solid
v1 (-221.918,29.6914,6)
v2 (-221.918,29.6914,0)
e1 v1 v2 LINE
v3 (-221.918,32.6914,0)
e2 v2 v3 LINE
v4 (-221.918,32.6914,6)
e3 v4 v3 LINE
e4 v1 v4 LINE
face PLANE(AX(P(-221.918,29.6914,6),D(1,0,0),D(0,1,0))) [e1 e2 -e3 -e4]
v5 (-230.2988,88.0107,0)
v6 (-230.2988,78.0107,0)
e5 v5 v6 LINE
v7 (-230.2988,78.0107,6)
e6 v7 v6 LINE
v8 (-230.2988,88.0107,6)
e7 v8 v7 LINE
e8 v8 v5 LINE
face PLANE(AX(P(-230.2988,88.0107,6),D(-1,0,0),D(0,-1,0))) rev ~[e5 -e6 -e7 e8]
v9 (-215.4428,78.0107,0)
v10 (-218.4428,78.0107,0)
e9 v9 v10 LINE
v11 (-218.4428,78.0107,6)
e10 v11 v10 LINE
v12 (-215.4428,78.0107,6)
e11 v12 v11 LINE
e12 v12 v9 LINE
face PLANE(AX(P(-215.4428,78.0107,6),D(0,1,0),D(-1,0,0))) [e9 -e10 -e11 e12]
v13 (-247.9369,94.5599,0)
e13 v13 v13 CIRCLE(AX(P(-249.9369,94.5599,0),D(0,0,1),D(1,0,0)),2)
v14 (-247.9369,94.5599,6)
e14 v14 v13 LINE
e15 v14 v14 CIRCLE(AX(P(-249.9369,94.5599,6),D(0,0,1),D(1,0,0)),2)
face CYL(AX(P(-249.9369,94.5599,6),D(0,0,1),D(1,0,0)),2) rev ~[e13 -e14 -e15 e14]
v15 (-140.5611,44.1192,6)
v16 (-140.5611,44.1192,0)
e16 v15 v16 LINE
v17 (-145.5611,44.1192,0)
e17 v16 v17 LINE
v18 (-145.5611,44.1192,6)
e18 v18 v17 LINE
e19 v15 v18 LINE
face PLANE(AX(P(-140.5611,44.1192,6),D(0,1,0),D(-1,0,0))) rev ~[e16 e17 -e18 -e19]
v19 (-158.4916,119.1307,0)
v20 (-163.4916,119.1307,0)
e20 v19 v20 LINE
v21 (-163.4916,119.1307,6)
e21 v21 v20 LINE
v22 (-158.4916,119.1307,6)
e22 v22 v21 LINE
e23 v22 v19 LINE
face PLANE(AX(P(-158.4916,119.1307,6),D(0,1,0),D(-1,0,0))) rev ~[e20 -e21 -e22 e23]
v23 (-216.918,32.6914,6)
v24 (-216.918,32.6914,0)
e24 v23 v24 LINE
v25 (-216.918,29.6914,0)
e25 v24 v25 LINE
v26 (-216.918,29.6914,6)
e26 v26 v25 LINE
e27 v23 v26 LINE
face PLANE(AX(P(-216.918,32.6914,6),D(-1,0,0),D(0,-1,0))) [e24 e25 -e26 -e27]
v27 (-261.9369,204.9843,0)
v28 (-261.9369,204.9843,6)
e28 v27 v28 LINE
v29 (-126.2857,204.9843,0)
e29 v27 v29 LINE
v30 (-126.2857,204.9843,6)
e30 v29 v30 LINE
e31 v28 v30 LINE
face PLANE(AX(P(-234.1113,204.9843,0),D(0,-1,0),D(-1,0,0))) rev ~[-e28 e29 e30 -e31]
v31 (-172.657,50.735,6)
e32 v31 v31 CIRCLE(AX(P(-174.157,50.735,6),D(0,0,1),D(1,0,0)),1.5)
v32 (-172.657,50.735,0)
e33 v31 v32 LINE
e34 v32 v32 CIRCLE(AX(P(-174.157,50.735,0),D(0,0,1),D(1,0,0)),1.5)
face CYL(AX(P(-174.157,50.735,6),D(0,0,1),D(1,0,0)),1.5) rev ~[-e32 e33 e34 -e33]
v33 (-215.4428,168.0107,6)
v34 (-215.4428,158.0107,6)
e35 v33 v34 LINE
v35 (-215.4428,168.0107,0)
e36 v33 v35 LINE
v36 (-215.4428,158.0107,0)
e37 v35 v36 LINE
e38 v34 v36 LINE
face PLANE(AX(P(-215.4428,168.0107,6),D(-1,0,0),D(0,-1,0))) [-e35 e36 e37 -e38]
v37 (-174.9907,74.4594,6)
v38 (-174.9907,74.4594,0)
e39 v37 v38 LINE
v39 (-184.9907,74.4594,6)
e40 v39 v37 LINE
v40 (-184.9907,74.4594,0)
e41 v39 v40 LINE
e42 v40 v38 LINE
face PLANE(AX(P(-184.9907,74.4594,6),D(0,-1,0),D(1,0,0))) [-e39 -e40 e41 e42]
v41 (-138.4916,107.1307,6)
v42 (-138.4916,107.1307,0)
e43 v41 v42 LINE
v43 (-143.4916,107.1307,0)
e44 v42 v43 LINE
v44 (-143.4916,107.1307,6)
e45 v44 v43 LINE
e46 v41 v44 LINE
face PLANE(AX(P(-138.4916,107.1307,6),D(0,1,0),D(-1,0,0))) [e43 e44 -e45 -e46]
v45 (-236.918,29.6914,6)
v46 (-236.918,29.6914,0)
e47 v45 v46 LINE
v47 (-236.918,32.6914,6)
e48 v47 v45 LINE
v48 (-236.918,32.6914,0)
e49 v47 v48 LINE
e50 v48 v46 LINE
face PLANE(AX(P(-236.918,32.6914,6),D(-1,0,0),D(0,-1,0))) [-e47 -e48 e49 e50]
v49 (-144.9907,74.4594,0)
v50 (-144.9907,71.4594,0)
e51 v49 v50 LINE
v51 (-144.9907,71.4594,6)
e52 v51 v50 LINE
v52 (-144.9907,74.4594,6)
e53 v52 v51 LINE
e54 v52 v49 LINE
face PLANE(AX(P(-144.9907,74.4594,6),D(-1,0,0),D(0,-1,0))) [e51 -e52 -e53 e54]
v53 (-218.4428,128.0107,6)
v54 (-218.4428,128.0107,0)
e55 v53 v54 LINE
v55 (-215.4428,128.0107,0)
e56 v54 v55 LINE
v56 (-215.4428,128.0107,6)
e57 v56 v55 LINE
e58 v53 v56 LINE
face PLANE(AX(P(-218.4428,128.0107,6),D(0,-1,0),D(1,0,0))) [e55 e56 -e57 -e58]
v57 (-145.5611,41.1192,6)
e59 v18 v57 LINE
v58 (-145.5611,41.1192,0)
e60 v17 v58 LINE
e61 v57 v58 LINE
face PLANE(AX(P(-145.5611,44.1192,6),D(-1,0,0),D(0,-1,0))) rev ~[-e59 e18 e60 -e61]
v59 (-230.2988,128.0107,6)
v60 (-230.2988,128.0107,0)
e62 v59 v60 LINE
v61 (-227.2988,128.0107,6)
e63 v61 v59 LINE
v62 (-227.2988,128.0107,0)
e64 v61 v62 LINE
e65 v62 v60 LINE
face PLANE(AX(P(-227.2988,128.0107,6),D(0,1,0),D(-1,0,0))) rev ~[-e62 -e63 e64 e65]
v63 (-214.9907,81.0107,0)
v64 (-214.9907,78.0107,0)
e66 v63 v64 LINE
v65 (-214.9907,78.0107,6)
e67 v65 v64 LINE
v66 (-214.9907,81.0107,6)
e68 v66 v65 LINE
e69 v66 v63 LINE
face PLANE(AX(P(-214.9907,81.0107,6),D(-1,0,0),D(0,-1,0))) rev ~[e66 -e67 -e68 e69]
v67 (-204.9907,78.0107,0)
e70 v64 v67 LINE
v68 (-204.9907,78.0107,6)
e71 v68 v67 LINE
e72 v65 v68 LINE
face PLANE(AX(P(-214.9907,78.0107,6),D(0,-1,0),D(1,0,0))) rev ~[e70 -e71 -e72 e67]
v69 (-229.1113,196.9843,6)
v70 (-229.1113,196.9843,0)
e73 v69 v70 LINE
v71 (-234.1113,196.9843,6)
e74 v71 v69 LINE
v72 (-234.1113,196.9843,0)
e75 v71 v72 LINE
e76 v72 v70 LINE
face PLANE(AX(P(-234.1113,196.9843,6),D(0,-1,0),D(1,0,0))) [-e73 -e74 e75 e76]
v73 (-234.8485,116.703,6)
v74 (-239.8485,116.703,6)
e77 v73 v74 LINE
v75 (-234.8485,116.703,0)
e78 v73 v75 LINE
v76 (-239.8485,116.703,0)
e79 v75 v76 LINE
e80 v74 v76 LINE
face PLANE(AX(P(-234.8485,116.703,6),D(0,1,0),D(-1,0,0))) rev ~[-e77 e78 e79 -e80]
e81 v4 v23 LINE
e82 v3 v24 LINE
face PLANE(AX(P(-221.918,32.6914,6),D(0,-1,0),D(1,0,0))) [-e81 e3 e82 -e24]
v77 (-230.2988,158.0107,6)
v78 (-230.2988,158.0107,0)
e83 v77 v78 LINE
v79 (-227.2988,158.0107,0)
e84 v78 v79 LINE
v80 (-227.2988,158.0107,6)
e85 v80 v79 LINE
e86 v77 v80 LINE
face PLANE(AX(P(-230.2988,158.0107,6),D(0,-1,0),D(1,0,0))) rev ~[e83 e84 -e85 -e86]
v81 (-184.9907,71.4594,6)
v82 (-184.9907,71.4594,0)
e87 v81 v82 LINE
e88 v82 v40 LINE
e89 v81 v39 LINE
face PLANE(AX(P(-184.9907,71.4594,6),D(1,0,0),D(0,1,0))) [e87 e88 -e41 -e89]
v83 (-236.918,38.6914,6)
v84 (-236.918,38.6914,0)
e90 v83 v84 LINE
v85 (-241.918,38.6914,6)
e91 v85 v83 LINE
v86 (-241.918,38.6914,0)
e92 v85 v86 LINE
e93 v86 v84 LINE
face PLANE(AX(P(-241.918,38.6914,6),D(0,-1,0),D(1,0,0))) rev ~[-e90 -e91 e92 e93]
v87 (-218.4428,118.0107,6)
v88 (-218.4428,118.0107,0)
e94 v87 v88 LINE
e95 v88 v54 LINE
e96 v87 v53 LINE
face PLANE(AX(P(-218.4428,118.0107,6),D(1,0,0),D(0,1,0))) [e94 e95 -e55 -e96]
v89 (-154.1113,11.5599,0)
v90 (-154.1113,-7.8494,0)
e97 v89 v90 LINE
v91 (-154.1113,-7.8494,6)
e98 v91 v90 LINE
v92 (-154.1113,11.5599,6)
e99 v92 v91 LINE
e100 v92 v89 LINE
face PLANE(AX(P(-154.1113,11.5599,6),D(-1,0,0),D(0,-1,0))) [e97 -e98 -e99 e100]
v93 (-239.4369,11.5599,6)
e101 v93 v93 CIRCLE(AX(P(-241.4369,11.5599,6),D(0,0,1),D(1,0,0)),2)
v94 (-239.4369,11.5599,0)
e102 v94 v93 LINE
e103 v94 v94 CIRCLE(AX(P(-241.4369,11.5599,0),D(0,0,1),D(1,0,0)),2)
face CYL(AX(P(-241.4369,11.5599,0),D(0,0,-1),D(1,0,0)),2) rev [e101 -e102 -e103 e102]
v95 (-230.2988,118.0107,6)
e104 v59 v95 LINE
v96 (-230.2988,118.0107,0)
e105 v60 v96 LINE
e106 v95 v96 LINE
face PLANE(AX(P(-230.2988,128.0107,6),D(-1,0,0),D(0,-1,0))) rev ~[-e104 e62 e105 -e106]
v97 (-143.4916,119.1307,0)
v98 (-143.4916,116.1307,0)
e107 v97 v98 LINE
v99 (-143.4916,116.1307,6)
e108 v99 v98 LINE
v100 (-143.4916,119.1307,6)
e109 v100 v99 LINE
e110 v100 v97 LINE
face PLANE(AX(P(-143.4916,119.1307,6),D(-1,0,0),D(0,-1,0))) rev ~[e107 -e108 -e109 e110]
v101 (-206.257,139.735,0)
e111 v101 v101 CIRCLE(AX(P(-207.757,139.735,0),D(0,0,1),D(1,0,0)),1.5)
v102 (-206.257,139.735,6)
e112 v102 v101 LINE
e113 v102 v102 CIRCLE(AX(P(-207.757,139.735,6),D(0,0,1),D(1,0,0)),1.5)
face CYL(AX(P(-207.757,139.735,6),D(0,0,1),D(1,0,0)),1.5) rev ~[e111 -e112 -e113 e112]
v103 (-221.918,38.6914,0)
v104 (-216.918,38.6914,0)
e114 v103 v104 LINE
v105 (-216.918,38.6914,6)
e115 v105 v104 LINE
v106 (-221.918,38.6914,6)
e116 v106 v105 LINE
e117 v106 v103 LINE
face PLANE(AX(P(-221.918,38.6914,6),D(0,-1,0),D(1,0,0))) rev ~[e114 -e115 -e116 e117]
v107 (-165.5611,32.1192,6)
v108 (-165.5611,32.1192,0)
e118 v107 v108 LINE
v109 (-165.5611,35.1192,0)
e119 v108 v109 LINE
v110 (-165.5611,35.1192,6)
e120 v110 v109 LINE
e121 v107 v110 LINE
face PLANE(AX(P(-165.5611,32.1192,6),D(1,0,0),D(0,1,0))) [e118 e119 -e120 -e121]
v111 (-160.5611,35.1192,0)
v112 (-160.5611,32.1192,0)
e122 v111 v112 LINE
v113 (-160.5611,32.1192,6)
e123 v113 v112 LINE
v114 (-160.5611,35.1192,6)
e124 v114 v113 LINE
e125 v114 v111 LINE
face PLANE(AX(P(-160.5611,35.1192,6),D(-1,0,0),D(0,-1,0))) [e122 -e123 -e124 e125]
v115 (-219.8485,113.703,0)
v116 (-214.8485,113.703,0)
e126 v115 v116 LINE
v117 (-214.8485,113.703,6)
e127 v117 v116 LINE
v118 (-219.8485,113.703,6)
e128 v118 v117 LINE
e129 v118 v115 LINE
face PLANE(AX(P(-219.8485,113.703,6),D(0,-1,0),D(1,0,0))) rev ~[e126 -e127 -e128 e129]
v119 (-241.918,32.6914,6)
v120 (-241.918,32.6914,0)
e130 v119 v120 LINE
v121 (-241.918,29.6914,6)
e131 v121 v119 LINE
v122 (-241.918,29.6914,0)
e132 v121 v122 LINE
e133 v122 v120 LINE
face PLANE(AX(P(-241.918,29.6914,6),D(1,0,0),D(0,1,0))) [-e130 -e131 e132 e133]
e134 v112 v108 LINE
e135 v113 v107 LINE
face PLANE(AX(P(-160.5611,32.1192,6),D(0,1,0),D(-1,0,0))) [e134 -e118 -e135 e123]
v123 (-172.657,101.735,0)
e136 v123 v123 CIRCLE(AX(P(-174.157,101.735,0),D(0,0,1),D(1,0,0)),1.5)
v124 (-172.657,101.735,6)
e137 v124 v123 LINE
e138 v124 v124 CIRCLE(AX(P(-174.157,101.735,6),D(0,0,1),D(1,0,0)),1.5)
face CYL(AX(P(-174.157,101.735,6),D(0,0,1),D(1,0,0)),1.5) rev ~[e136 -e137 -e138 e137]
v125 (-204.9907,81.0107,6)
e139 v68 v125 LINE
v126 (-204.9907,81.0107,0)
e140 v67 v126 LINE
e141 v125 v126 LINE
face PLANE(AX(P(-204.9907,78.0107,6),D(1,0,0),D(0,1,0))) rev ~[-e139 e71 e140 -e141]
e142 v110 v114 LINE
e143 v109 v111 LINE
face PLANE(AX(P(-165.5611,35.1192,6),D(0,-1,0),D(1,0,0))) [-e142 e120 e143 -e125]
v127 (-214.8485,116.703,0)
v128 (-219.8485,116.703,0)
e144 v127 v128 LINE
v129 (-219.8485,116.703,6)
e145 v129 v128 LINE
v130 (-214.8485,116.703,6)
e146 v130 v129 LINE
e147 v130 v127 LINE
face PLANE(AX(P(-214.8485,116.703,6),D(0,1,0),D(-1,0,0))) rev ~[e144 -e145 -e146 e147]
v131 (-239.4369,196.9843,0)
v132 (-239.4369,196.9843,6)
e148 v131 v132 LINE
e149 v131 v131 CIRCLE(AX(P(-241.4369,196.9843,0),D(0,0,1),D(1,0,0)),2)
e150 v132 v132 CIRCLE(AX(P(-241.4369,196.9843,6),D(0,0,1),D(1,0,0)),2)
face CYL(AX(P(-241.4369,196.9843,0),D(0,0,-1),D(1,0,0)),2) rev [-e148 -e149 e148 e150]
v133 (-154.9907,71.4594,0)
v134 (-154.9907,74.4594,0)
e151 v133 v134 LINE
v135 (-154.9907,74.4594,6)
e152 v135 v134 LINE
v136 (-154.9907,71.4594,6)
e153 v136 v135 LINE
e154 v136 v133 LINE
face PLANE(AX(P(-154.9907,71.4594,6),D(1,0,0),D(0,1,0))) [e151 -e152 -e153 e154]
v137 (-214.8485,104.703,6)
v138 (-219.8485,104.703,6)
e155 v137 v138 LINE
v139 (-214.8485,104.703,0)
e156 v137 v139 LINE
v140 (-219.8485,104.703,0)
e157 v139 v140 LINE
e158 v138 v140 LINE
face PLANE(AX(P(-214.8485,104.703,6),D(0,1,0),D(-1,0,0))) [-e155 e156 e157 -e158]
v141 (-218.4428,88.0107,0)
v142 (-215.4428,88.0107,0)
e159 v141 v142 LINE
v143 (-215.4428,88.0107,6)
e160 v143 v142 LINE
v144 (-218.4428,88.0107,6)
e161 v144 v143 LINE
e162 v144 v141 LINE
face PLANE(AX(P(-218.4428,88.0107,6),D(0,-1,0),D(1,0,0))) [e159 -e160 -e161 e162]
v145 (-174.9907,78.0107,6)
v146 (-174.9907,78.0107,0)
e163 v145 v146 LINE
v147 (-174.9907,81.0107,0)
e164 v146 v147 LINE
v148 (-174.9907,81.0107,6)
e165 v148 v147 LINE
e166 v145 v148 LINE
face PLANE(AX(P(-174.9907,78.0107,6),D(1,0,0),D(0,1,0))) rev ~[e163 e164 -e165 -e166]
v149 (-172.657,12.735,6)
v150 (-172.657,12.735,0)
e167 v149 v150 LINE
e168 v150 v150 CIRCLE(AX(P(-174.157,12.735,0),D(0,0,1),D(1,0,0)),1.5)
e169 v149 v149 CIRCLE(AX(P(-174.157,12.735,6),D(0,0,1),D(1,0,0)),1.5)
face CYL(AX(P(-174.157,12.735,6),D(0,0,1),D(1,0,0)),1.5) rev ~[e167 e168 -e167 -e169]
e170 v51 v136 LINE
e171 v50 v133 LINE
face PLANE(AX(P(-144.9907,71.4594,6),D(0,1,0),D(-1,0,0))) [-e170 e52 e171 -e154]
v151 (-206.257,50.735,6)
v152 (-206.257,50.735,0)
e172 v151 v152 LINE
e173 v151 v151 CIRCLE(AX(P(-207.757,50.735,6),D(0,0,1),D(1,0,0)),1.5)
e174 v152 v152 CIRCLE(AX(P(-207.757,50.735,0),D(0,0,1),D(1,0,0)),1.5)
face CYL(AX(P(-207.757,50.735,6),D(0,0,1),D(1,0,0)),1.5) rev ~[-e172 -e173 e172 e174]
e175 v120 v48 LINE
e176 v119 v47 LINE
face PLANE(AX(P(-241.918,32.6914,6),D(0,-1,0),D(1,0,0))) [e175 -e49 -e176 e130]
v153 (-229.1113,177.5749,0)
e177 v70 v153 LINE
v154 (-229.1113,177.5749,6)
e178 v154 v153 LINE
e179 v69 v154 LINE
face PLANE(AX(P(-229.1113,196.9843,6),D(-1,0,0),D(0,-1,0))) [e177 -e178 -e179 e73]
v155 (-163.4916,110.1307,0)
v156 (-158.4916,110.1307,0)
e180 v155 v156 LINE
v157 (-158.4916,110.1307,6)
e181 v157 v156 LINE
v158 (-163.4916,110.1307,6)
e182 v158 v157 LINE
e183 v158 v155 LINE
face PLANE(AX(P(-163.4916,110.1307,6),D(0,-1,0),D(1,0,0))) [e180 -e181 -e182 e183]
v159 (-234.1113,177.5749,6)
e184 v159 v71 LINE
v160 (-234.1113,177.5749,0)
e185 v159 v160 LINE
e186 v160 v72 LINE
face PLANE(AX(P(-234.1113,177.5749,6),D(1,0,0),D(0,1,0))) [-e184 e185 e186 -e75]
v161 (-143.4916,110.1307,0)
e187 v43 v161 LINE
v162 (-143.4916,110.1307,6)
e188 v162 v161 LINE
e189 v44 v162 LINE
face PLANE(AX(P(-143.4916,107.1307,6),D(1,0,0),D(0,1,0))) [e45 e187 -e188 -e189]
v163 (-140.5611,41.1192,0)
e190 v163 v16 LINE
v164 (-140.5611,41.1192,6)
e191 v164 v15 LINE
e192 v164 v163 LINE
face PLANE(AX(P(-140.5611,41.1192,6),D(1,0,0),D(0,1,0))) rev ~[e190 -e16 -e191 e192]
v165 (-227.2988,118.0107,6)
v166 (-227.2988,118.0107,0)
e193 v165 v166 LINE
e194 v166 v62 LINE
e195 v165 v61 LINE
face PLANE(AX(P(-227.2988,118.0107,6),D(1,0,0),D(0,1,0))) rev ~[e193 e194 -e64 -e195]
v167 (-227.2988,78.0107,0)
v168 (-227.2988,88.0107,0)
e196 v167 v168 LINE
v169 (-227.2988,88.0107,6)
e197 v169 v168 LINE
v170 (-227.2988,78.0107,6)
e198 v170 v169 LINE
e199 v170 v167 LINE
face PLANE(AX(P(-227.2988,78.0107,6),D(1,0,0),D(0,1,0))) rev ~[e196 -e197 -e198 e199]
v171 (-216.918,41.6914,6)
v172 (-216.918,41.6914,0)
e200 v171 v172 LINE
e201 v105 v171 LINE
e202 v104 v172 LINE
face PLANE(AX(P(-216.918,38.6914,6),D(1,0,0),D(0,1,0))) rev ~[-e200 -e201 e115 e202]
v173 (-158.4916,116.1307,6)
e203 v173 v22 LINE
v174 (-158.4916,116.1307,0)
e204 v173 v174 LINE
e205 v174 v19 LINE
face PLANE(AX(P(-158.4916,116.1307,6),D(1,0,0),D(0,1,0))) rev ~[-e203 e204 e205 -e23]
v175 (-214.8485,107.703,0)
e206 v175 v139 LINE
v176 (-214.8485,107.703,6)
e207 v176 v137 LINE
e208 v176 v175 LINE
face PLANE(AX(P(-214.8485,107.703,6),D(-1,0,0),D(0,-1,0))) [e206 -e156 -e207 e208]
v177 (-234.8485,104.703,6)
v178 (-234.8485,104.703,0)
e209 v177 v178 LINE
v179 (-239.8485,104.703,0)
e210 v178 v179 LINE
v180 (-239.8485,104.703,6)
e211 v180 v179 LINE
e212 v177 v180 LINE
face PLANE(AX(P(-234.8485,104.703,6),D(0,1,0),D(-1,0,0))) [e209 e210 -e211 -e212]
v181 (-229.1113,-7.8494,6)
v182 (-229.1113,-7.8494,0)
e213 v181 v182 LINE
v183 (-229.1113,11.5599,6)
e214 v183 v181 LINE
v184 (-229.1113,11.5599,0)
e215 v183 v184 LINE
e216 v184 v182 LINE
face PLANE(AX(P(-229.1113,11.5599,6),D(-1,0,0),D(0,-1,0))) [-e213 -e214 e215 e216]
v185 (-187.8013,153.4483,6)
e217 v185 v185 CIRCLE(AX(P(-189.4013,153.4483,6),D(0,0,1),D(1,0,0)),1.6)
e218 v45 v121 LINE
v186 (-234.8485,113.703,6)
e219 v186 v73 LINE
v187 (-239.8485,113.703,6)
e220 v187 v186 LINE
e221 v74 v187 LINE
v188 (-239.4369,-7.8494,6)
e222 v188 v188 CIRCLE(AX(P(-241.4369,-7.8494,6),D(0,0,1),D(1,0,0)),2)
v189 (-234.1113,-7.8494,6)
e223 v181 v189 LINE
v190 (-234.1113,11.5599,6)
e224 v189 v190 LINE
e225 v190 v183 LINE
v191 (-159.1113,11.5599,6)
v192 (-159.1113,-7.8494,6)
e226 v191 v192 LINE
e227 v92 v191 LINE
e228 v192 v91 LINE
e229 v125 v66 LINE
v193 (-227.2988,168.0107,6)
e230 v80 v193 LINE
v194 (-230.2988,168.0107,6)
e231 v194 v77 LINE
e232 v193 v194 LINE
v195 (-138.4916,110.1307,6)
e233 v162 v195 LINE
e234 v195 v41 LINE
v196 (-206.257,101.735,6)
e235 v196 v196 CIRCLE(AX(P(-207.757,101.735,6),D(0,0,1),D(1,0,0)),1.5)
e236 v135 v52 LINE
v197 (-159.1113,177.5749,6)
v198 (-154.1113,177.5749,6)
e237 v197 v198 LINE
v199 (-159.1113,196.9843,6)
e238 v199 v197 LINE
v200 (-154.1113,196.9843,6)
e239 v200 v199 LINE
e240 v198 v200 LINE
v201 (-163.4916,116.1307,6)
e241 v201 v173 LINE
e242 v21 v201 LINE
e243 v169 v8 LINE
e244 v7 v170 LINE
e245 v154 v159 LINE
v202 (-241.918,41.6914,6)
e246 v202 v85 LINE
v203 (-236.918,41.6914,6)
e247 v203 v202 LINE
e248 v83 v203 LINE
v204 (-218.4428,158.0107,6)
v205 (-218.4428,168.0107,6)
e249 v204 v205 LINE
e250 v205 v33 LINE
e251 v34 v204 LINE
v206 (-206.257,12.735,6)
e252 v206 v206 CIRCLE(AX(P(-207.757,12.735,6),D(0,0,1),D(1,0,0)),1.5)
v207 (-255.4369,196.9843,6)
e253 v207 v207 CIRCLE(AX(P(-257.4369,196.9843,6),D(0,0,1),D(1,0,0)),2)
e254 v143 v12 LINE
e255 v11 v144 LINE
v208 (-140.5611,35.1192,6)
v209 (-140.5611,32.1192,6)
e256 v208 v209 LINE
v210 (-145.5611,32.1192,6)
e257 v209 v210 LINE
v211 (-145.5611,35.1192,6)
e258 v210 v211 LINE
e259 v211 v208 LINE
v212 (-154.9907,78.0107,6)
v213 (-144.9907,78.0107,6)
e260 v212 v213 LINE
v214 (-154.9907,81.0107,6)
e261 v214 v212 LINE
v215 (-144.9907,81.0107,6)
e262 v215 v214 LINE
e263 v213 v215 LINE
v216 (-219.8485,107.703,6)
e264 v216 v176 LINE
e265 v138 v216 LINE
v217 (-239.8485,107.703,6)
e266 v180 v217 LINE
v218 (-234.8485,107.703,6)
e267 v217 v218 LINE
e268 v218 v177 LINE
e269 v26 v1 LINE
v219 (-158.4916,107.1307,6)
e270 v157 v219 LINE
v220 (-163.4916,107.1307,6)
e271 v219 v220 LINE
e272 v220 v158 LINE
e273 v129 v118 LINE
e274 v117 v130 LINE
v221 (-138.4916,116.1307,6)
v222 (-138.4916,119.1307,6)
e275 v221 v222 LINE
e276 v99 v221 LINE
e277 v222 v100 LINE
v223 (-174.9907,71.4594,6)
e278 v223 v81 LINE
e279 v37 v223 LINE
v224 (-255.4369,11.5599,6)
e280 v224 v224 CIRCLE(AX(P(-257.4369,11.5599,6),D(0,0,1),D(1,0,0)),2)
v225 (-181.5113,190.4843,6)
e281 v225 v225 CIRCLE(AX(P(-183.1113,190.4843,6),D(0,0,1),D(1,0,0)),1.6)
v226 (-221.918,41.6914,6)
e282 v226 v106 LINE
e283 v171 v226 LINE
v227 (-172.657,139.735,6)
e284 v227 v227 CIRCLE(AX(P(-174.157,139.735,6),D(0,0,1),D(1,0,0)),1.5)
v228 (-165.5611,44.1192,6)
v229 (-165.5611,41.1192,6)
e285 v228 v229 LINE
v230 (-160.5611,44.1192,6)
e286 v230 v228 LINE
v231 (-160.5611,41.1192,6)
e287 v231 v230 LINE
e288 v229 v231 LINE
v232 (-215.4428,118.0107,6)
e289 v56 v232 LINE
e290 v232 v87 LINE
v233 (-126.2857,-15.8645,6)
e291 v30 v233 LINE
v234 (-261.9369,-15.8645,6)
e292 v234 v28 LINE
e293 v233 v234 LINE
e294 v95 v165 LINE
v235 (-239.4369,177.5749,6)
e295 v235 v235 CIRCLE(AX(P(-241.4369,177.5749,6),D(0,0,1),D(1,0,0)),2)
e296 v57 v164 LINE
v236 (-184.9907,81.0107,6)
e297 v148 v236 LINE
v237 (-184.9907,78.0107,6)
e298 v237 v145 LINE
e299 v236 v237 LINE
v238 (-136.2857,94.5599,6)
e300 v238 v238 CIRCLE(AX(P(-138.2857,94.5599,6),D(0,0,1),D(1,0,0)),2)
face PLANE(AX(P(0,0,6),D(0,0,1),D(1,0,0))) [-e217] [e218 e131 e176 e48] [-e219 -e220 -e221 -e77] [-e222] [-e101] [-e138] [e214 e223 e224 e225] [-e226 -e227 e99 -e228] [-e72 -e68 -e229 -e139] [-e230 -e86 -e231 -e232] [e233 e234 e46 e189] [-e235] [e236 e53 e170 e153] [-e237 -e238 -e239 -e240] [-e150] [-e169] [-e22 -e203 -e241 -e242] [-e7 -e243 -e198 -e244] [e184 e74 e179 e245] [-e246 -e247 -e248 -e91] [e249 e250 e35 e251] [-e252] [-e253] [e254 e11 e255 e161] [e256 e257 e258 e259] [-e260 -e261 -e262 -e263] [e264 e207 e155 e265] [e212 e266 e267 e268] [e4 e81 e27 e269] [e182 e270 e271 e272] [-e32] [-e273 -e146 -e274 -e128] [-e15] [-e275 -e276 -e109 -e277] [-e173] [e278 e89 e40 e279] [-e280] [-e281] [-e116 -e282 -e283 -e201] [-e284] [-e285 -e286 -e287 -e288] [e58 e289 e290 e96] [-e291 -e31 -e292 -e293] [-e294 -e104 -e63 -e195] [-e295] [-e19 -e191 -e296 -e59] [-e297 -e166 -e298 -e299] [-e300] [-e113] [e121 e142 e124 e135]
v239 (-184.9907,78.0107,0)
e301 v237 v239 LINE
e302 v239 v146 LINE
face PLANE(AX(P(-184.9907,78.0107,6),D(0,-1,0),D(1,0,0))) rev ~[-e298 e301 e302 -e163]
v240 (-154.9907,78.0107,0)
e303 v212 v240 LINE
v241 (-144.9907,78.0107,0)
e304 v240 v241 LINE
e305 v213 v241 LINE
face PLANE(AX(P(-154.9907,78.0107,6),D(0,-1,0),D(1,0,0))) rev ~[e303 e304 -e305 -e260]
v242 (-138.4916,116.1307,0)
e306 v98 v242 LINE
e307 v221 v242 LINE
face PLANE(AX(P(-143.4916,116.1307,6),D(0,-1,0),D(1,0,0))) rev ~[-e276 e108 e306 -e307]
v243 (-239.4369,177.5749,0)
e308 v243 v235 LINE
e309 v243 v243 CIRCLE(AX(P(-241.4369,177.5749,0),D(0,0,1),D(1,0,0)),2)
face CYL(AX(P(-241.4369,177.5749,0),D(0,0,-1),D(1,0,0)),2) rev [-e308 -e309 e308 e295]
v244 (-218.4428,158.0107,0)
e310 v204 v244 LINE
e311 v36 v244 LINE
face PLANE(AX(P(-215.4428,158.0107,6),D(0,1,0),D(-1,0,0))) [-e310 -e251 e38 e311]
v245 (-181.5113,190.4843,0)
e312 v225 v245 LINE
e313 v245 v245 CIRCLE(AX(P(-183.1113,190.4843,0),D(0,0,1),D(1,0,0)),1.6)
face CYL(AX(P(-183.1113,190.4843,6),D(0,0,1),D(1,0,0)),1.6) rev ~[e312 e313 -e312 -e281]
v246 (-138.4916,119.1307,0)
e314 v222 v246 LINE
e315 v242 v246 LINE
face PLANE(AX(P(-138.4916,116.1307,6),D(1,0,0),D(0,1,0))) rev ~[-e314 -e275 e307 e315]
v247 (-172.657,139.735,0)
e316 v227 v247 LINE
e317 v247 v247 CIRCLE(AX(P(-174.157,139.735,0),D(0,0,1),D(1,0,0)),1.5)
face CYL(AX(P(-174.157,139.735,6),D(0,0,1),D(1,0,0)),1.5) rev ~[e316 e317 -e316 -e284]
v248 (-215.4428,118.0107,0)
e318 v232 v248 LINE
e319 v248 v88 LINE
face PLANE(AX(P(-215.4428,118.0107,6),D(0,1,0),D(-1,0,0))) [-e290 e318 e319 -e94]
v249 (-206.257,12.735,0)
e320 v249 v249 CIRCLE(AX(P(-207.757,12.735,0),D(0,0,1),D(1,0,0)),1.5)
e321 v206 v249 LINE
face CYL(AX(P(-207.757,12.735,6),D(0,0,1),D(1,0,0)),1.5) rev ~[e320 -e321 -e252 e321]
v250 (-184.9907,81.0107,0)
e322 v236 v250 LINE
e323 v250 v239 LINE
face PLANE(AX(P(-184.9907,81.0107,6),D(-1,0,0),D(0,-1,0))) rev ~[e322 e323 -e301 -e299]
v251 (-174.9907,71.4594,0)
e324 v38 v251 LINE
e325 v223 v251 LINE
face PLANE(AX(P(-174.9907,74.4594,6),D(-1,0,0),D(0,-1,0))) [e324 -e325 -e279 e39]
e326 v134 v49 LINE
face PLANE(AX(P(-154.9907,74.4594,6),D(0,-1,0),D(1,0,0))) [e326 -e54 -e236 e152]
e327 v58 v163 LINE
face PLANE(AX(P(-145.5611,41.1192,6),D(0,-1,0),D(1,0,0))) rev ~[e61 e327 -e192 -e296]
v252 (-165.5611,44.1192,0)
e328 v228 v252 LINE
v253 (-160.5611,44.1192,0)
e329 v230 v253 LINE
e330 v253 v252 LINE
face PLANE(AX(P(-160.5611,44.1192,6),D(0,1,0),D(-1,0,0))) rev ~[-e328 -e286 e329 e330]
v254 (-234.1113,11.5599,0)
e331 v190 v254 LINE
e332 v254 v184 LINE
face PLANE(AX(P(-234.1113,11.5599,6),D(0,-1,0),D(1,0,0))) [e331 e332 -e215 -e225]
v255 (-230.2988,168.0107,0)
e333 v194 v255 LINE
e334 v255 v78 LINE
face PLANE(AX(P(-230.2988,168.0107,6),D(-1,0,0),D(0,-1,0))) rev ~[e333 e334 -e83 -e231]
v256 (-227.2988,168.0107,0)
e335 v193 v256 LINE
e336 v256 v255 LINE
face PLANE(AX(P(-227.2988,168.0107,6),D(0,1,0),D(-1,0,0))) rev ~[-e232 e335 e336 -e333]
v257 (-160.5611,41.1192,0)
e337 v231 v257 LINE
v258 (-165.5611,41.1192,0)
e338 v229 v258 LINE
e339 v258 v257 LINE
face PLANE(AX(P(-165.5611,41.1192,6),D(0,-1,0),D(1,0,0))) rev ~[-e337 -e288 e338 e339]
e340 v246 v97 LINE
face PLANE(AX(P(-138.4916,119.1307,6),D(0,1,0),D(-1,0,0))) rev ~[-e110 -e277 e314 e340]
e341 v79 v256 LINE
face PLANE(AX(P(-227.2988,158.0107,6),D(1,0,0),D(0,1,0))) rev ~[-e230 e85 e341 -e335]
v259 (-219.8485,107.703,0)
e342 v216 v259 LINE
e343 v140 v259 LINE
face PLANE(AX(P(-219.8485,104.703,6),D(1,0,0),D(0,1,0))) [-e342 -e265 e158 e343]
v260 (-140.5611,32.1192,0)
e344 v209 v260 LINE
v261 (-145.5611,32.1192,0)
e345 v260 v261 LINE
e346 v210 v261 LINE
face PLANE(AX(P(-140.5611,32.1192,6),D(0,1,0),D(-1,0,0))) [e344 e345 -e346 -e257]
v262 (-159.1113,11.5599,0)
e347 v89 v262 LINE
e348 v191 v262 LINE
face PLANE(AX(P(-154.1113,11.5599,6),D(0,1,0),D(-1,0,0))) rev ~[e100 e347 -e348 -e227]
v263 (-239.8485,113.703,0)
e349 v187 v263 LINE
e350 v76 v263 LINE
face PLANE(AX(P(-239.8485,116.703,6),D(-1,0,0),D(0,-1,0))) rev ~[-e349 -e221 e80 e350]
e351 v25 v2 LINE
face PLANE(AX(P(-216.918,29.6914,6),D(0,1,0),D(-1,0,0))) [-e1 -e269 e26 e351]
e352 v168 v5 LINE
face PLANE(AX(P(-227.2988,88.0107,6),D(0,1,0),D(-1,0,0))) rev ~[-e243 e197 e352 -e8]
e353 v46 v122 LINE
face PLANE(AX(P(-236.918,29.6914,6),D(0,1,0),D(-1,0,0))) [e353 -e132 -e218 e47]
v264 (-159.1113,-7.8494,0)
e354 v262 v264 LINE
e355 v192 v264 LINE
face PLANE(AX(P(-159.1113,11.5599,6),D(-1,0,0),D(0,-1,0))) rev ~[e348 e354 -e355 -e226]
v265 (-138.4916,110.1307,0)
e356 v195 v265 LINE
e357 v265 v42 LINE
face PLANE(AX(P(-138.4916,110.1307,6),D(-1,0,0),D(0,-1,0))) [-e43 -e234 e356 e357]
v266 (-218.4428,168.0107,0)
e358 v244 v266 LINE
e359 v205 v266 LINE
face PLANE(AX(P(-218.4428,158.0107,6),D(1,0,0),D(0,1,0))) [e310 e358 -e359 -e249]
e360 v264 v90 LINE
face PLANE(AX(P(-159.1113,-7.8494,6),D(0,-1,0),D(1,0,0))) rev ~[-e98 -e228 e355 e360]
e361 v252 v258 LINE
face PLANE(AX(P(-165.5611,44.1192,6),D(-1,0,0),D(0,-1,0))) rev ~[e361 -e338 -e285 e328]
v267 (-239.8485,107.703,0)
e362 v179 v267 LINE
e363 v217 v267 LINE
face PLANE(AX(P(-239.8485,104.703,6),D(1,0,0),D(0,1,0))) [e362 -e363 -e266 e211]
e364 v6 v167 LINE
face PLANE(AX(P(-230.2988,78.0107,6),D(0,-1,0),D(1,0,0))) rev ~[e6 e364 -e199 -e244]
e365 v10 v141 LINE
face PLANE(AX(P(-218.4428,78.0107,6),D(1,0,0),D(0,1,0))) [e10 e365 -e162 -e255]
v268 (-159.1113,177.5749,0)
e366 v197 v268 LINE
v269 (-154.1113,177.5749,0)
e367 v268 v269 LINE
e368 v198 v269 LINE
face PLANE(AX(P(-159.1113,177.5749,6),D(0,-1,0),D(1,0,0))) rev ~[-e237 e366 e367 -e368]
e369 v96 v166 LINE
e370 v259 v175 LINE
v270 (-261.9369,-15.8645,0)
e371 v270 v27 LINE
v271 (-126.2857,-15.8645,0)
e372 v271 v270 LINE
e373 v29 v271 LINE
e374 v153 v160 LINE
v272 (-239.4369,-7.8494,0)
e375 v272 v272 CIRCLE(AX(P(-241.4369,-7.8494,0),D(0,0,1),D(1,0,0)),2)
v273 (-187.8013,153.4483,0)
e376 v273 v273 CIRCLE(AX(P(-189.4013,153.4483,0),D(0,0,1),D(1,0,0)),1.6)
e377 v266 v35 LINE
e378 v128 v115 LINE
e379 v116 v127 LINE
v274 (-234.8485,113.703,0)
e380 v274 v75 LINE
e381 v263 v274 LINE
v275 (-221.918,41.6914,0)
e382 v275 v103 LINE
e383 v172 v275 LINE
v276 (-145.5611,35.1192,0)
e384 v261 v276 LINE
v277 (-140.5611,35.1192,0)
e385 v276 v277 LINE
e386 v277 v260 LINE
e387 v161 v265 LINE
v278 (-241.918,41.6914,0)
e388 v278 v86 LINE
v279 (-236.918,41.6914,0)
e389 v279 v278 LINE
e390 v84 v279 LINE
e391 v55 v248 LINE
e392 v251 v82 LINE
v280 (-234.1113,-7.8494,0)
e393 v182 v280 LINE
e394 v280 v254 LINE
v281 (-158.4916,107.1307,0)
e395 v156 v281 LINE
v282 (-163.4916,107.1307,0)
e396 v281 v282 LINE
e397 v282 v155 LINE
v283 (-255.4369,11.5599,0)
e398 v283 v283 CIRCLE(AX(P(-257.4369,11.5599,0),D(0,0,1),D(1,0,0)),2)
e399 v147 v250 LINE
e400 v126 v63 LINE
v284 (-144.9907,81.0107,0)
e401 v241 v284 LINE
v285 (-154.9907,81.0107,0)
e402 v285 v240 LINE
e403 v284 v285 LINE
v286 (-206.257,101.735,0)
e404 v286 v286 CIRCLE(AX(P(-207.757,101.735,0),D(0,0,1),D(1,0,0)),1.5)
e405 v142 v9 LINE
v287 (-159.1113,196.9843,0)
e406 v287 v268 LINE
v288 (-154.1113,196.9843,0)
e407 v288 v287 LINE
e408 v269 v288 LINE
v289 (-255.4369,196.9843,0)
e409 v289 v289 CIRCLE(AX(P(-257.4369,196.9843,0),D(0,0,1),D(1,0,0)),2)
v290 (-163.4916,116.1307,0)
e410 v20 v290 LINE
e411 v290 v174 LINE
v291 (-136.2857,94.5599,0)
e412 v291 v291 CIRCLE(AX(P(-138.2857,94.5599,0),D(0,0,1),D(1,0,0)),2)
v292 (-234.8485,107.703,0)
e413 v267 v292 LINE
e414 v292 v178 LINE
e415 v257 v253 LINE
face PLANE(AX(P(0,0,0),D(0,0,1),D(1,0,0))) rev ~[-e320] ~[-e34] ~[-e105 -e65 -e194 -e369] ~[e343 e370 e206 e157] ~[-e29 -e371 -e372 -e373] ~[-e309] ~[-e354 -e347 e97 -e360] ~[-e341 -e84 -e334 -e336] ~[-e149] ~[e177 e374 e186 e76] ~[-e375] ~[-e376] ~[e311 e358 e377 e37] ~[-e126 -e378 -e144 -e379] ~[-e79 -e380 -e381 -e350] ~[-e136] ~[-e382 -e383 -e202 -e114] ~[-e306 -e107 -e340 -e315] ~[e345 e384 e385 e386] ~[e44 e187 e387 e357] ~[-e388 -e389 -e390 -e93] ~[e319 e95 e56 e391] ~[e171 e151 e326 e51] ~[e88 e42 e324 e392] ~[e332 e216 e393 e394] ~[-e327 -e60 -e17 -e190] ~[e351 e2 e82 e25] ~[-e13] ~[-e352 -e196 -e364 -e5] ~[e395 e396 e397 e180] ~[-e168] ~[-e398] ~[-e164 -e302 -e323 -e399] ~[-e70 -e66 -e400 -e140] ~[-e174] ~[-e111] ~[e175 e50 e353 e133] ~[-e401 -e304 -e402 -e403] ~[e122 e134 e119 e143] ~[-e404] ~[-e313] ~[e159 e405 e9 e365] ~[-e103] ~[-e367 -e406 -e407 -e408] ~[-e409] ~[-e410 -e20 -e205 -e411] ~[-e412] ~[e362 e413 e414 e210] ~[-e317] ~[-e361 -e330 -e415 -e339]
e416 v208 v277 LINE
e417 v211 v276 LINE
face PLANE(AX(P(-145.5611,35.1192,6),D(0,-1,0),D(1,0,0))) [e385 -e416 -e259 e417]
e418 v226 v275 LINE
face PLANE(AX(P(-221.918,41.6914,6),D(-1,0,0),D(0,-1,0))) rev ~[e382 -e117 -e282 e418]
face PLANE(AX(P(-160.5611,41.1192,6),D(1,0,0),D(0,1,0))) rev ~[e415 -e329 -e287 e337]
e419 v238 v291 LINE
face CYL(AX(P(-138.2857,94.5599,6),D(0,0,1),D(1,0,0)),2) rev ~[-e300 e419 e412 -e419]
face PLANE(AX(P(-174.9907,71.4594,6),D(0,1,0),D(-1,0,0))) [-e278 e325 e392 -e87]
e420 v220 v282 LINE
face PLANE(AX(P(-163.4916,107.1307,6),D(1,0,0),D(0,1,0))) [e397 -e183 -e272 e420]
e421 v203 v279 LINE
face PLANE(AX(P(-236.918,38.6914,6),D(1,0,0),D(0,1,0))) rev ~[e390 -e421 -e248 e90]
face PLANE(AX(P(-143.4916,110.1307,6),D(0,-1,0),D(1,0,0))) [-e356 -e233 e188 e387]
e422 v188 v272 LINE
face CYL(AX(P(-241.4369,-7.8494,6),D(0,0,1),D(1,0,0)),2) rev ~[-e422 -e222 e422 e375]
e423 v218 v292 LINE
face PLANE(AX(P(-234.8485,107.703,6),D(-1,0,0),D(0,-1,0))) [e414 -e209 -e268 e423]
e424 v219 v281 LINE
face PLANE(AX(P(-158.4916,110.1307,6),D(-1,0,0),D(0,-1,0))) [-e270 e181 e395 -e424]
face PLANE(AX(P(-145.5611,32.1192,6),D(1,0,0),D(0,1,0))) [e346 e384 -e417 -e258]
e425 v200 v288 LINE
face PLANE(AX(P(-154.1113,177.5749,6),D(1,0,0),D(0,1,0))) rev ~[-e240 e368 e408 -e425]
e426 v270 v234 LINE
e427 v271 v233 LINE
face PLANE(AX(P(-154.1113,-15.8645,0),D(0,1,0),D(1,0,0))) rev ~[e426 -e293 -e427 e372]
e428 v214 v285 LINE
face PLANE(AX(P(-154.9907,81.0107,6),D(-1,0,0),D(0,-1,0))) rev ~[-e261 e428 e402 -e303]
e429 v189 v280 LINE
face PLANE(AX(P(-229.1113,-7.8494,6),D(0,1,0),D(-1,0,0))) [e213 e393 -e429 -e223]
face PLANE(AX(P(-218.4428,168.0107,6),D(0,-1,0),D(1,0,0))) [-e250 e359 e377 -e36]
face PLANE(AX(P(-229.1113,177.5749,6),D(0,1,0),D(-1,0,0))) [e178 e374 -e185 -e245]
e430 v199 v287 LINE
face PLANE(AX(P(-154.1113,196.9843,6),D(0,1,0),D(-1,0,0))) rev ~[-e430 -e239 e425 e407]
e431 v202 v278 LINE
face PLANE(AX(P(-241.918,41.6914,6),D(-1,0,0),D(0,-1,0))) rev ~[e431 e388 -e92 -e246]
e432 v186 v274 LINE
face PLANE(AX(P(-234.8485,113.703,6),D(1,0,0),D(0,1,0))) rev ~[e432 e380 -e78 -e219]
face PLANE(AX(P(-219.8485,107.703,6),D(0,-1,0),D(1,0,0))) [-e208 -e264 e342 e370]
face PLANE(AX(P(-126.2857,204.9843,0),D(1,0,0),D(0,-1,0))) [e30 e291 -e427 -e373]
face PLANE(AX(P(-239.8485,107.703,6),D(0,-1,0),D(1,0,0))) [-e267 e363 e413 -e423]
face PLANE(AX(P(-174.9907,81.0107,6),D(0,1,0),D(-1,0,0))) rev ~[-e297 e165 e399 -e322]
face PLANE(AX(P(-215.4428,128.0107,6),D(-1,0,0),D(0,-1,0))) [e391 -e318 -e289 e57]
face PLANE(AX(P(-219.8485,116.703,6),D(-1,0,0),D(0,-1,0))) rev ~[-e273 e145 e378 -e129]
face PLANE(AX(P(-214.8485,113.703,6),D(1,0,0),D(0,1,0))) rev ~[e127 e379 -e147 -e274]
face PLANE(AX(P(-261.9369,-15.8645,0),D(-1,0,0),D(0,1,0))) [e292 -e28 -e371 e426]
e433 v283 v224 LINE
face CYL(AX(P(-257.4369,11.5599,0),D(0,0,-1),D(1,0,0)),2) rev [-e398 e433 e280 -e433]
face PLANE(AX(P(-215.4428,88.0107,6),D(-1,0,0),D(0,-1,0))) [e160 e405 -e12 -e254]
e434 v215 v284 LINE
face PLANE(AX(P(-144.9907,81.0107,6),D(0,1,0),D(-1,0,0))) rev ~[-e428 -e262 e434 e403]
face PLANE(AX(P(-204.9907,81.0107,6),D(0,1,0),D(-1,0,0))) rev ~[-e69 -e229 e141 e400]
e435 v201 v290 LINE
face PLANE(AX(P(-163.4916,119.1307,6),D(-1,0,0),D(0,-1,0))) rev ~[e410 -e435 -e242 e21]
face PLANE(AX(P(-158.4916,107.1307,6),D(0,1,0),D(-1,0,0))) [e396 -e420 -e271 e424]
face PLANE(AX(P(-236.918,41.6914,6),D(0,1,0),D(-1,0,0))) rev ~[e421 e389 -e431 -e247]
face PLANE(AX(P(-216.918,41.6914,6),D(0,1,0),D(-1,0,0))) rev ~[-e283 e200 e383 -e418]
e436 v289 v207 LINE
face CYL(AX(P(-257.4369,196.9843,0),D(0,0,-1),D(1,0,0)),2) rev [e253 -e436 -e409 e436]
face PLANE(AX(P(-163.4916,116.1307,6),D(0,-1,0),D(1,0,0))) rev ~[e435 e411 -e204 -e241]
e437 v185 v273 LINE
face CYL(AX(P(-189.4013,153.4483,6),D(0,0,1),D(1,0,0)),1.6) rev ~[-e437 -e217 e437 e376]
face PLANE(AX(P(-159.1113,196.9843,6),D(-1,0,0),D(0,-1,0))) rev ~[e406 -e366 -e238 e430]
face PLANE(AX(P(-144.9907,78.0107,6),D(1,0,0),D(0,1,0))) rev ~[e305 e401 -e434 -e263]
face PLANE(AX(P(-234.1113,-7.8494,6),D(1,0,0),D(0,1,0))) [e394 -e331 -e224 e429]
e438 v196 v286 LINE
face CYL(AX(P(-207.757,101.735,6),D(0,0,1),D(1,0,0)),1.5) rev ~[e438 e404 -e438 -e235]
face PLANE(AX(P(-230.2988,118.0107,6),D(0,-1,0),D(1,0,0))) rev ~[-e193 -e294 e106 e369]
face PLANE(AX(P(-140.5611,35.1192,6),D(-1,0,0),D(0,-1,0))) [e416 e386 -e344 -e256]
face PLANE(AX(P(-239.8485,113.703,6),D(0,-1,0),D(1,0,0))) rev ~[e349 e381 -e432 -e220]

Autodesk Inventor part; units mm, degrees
ref_plane "YZ Plane" through (0, 0, 0) normal (1, 0, 0) x (0, 1, 0)
ref_plane "XZ Plane" through (0, 0, 0) normal (0, 1, 0) x (-1, 0, 0)
ref_plane "XY Plane" through (0, 0, 0) normal (0, 0, 1) x (1, 0, 0)
sketch "Эскиз1" plane through (0, 0, 0) normal (0, 0, 1) x (1, 0, 0)
  circle A0 centre (-130.7857, -7.8645) radius 2 projected
  circle A1 centre (-146.7857, -7.8645) radius 2 projected
  circle A2 centre (-146.7857, 11.5448) radius 2 projected
  circle A3 centre (-130.7857, 11.5448) radius 2 projected
  circle A4 centre (-257.4369, -7.8494) radius 2 projected
  circle A5 centre (-241.4369, -7.8494) radius 2 projected
  circle A6 centre (-241.4369, 11.5599) radius 2 projected
  circle A7 centre (-257.4369, 11.5599) radius 2 projected
  circle A8 centre (-241.4369, 177.5749) radius 2 projected
  circle A9 centre (-257.4369, 177.5749) radius 2 projected
  circle A10 centre (-241.4369, 196.9843) radius 2 projected
  circle A11 centre (-257.4369, 196.9843) radius 2 projected
  circle A12 centre (-130.7857, 196.9691) radius 2 projected
  circle A13 centre (-130.7857, 177.5598) radius 2 projected
  circle A14 centre (-146.7857, 177.5598) radius 2 projected
  circle A15 centre (-146.7857, 196.9691) radius 2 projected
  line L0 (-126.2857, -20.0509) -> (-126.2857, 23.7311) projected
  line L1 (-11.2, 1) -> (-52.2, 1)
  line L2 (-261.9369, 209.1706) -> (-261.9369, 165.3886) projected
  line L3 (-234.1113, 204.9843) -> (-286.9369, 204.9843) projected
  line L4 (-154.1113, -15.8645) -> (-101.2857, -15.8645) projected
  line L5 (-126.2857, -15.8645) -> (-261.9369, -15.8645)
  line L6 (-261.9369, -15.8645) -> (-261.9369, 204.9843)
  line L7 (-261.9369, 204.9843) -> (-126.2857, 204.9843)
  line L8 (-126.2857, 204.9843) -> (-126.2857, -15.8645)
  point P0 (0, 0)
  point P1 (-261.9369, 209.1706)
extrude "Выдавливание1" add sketch "Эскиз1" along normal blind 6 contours A0 | A1 | A2 | A3 | A4 | A5 | A9 | A12 | A13 | A14 | A15 | L4 L5 L6 L2 L3 L7 L8 L0
sketch "Эскиз2" plane through (0, 0, 6) normal (0, 0, 1) x (1, 0, 0)
  circle A0 centre (-183.1113, 190.4843) radius 1.6 projected
  circle A1 centre (-189.4013, 153.4483) radius 1.6 projected
  point P0 (0, 0)
extrude "Выдавливание2" cut sketch "Эскиз2" against normal blind 10
sketch "Эскиз3" plane through (0, 0, 6) normal (0, 0, 1) x (1, 0, 0)
  circle A0 centre (-241.4369, 11.5599) radius 2 projected
  circle A1 centre (-241.4369, -7.8494) radius 2 projected
  line L0 (-234.1113, -15.8645) -> (-234.1113, 19.5599) projected
  line L1 (-234.1113, 11.5599) -> (-229.1113, 11.5599)
  line L2 (-229.1113, 11.5599) -> (-229.1113, -7.8494)
  line L3 (-229.1113, -7.8494) -> (-234.1113, -7.8494)
  line L4 (-234.1113, -7.8494) -> (-234.1113, 11.5599)
  line L5 (-154.1113, 19.5599) -> (-154.1113, -15.8645) projected
  line L6 (-154.1113, 11.5599) -> (-159.1113, 11.5599)
  line L7 (-159.1113, 11.5599) -> (-159.1113, -7.8494)
  line L8 (-159.1113, -7.8494) -> (-154.1113, -7.8494)
  line L9 (-154.1113, -7.8494) -> (-154.1113, 11.5599)
  circle A2 centre (-241.4369, 196.9843) radius 2 projected
  circle A3 centre (-241.4369, 177.5749) radius 2 projected
  line L10 (-234.1113, 196.9843) -> (-229.1113, 196.9843)
  line L11 (-229.1113, 196.9843) -> (-229.1113, 177.5749)
  line L12 (-229.1113, 177.5749) -> (-234.1113, 177.5749)
  line L13 (-234.1113, 177.5749) -> (-234.1113, 196.9843)
  line L14 (-154.1113, 196.9843) -> (-159.1113, 196.9843)
  line L15 (-159.1113, 196.9843) -> (-159.1113, 177.5749)
  line L16 (-159.1113, 177.5749) -> (-154.1113, 177.5749)
  line L17 (-154.1113, 177.5749) -> (-154.1113, 196.9843)
  point P0 (0, 0)
  dimension "d4" = 5
  dimension "d5" = 5
extrude "Выдавливание3" cut sketch "Эскиз3" against normal blind 10
sketch "Эскиз4" plane through (0, 0, 6) normal (0, 0, 1) x (1, 0, 0)
  circle A0 centre (-174.157, 139.735) radius 1.5 projected
  circle A1 centre (-207.757, 139.735) radius 1.5 projected
  circle A2 centre (-207.757, 101.735) radius 1.5 projected
  line L0 (-154.1113, 11.5599) -> (-154.1113, -7.8494) projected
  line L1 (-154.1113, -7.8494) -> (-159.1113, -7.8494) projected
  line L2 (-159.1113, -7.8494) -> (-159.1113, 11.5599) projected
  line L3 (-159.1113, 11.5599) -> (-154.1113, 11.5599) projected
  circle A3 centre (-241.4369, -7.8494) radius 2 projected
  line L4 (-234.1113, -7.8494) -> (-234.1113, 11.5599) projected
  line L5 (-234.1113, 11.5599) -> (-229.1113, 11.5599) projected
  line L6 (-229.1113, 11.5599) -> (-229.1113, -7.8494) projected
  line L7 (-229.1113, -7.8494) -> (-234.1113, -7.8494) projected
  line L8 (-229.1113, 196.9843) -> (-229.1113, 177.5749) projected
  line L9 (-229.1113, 177.5749) -> (-234.1113, 177.5749) projected
  line L10 (-234.1113, 177.5749) -> (-234.1113, 196.9843) projected
  line L11 (-234.1113, 196.9843) -> (-229.1113, 196.9843) projected
  line L12 (-154.1113, 177.5749) -> (-159.1113, 177.5749) projected
  line L13 (-159.1113, 177.5749) -> (-159.1113, 196.9843) projected
  line L14 (-159.1113, 196.9843) -> (-154.1113, 196.9843) projected
  line L15 (-154.1113, 196.9843) -> (-154.1113, 177.5749) projected
  circle A4 centre (-183.1113, 190.4843) radius 1.6 projected
  circle A5 centre (-189.4013, 153.4483) radius 1.6 projected
  line L16 (-126.2857, 204.9843) -> (-261.9369, 204.9843) projected
  line L17 (-261.9369, 204.9843) -> (-261.9369, -15.8645) projected
  line L18 (-261.9369, -15.8645) -> (-126.2857, -15.8645) projected
  line L19 (-126.2857, -15.8645) -> (-126.2857, 204.9843) projected
  circle A6 centre (-257.4369, 196.9843) radius 2 projected
  circle A7 centre (-257.4369, 11.5599) radius 2 projected
  circle A8 centre (-241.4369, 11.5599) radius 2 projected
  circle A9 centre (-241.4369, 177.5749) radius 2 projected
  circle A10 centre (-241.4369, 196.9843) radius 2 projected
  circle A11 centre (-174.157, 101.735) radius 1.5 projected
  circle A12 centre (-207.757, 12.735) radius 1.5 projected
  circle A13 centre (-207.757, 50.735) radius 1.5 projected
  circle A14 centre (-174.157, 50.735) radius 1.5 projected
  circle A15 centre (-174.157, 12.735) radius 1.5 projected
  point P0 (0, 0)
extrude "Выдавливание4" cut sketch "Эскиз4" against normal blind 10 contours A0 | A1 | A2 | A11 | A12 | A13 | A14 | A15
sketch "Эскиз5" plane through (0, 0, 6) normal (0, 0, 1) x (1, 0, 0)
  line L0 (-179.457, 56.235) -> (-202.457, 56.235) projected
  line L1 (-202.457, 96.235) -> (-179.457, 96.235) projected
  line L2 (-227.2988, 76.235) -> (-132.8267, 76.235) construction
  line L3 (-222.8708, 67.4513) -> (-222.8708, 191.9683) construction
  line L4 (-227.2988, 168.0107) -> (-230.2988, 168.0107)
  line L5 (-230.2988, 168.0107) -> (-230.2988, 158.0107)
  line L6 (-230.2988, 158.0107) -> (-227.2988, 158.0107)
  line L7 (-227.2988, 158.0107) -> (-227.2988, 168.0107)
  line L8 (-222.8708, 27.4513) -> (-222.8708, 151.9683) construction
  line L9 (-227.2988, 128.0107) -> (-230.2988, 128.0107)
  line L10 (-230.2988, 128.0107) -> (-230.2988, 118.0107)
  line L11 (-230.2988, 118.0107) -> (-227.2988, 118.0107)
  line L12 (-227.2988, 118.0107) -> (-227.2988, 128.0107)
  line L13 (-222.8708, -12.5487) -> (-222.8708, 111.9683) construction
  line L14 (-227.2988, 88.0107) -> (-230.2988, 88.0107)
  line L15 (-230.2988, 88.0107) -> (-230.2988, 78.0107)
  line L16 (-230.2988, 78.0107) -> (-227.2988, 78.0107)
  line L17 (-227.2988, 78.0107) -> (-227.2988, 88.0107)
  line L18 (-214.9907, 78.0107) -> (-204.9907, 78.0107)
  line L19 (-204.9907, 78.0107) -> (-204.9907, 81.0107)
  line L20 (-204.9907, 81.0107) -> (-214.9907, 81.0107)
  line L21 (-214.9907, 81.0107) -> (-214.9907, 78.0107)
  line L22 (-184.9907, 81.0107) -> (-184.9907, 78.0107)
  line L23 (-174.9907, 81.0107) -> (-184.9907, 81.0107)
  line L24 (-184.9907, 78.0107) -> (-174.9907, 78.0107)
  line L25 (-174.9907, 78.0107) -> (-174.9907, 81.0107)
  line L26 (-154.9907, 81.0107) -> (-154.9907, 78.0107)
  line L27 (-144.9907, 81.0107) -> (-154.9907, 81.0107)
  line L28 (-154.9907, 78.0107) -> (-144.9907, 78.0107)
  line L29 (-144.9907, 78.0107) -> (-144.9907, 81.0107)
  line L30 (-218.4428, 168.0107) -> (-215.4428, 168.0107)
  line L31 (-215.4428, 168.0107) -> (-215.4428, 158.0107)
  line L32 (-215.4428, 158.0107) -> (-218.4428, 158.0107)
  line L33 (-218.4428, 158.0107) -> (-218.4428, 168.0107)
  line L34 (-218.4428, 128.0107) -> (-215.4428, 128.0107)
  line L35 (-215.4428, 128.0107) -> (-215.4428, 118.0107)
  line L36 (-215.4428, 118.0107) -> (-218.4428, 118.0107)
  line L37 (-218.4428, 118.0107) -> (-218.4428, 128.0107)
  line L38 (-218.4428, 88.0107) -> (-215.4428, 88.0107)
  line L39 (-215.4428, 88.0107) -> (-215.4428, 78.0107)
  line L40 (-215.4428, 78.0107) -> (-218.4428, 78.0107)
  line L41 (-218.4428, 78.0107) -> (-218.4428, 88.0107)
  line L42 (-214.9907, 74.4594) -> (-204.9907, 74.4594)
  line L43 (-204.9907, 74.4594) -> (-204.9907, 71.4594)
  line L44 (-204.9907, 71.4594) -> (-214.9907, 71.4594)
  line L45 (-184.9907, 71.4594) -> (-184.9907, 74.4594)
  line L46 (-174.9907, 71.4594) -> (-184.9907, 71.4594)
  line L47 (-184.9907, 74.4594) -> (-174.9907, 74.4594)
  line L48 (-174.9907, 74.4594) -> (-174.9907, 71.4594)
  line L49 (-154.9907, 71.4594) -> (-154.9907, 74.4594)
  line L50 (-144.9907, 71.4594) -> (-154.9907, 71.4594)
  line L51 (-154.9907, 74.4594) -> (-144.9907, 74.4594)
  line L52 (-144.9907, 74.4594) -> (-144.9907, 71.4594)
  point P0 (0, 0)
  point P1 (-218.4428, 76.235)
  dimension "d10" = 40
  dimension "d11" = 20
  dimension "d12" = 3
  dimension "d13" = 10
  dimension "d16" = 40
  dimension "d21" = 10
  dimension "d22" = 3
  dimension "d25" = 30
extrude "Выдавливание5" cut sketch "Эскиз5" against normal blind 10
sketch "Эскиз6" plane through (0, 0, 6) normal (0, 0, 1) x (1, 0, 0)
  line L0 (-163.4916, 110.1307) -> (-158.4916, 110.1307)
  line L1 (-158.4916, 110.1307) -> (-158.4916, 107.1307)
  line L2 (-158.4916, 107.1307) -> (-163.4916, 107.1307)
  line L3 (-163.4916, 107.1307) -> (-163.4916, 110.1307)
  line L4 (-143.4916, 110.1307) -> (-138.4916, 110.1307)
  line L5 (-138.4916, 110.1307) -> (-138.4916, 107.1307)
  line L6 (-138.4916, 107.1307) -> (-143.4916, 107.1307)
  line L7 (-143.4916, 107.1307) -> (-143.4916, 110.1307)
  line L8 (-168.9534, 113.1307) -> (-129.2499, 113.1307) construction
  line L9 (-163.4916, 116.1307) -> (-158.4916, 116.1307)
  line L10 (-158.4916, 116.1307) -> (-158.4916, 119.1307)
  line L11 (-158.4916, 119.1307) -> (-163.4916, 119.1307)
  line L12 (-163.4916, 119.1307) -> (-163.4916, 116.1307)
  line L13 (-143.4916, 116.1307) -> (-138.4916, 116.1307)
  line L14 (-138.4916, 116.1307) -> (-138.4916, 119.1307)
  line L15 (-138.4916, 119.1307) -> (-143.4916, 119.1307)
  line L16 (-143.4916, 119.1307) -> (-143.4916, 116.1307)
  line L17 (-165.5611, 35.1192) -> (-160.5611, 35.1192)
  line L18 (-160.5611, 35.1192) -> (-160.5611, 32.1192)
  line L19 (-160.5611, 32.1192) -> (-165.5611, 32.1192)
  line L20 (-165.5611, 32.1192) -> (-165.5611, 35.1192)
  line L21 (-145.5611, 35.1192) -> (-140.5611, 35.1192)
  line L22 (-140.5611, 35.1192) -> (-140.5611, 32.1192)
  line L23 (-140.5611, 32.1192) -> (-145.5611, 32.1192)
  line L24 (-145.5611, 32.1192) -> (-145.5611, 35.1192)
  line L25 (-165.5611, 41.1192) -> (-160.5611, 41.1192)
  line L26 (-160.5611, 41.1192) -> (-160.5611, 44.1192)
  line L27 (-160.5611, 44.1192) -> (-165.5611, 44.1192)
  line L28 (-165.5611, 44.1192) -> (-165.5611, 41.1192)
  line L29 (-145.5611, 41.1192) -> (-140.5611, 41.1192)
  line L30 (-140.5611, 41.1192) -> (-140.5611, 44.1192)
  line L31 (-140.5611, 44.1192) -> (-145.5611, 44.1192)
  line L32 (-145.5611, 44.1192) -> (-145.5611, 41.1192)
  line L33 (-239.8485, 107.703) -> (-234.8485, 107.703)
  line L34 (-234.8485, 107.703) -> (-234.8485, 104.703)
  line L35 (-234.8485, 104.703) -> (-239.8485, 104.703)
  line L36 (-239.8485, 104.703) -> (-239.8485, 107.703)
  line L37 (-219.8485, 107.703) -> (-214.8485, 107.703)
  line L38 (-214.8485, 107.703) -> (-214.8485, 104.703)
  line L39 (-214.8485, 104.703) -> (-219.8485, 104.703)
  line L40 (-219.8485, 104.703) -> (-219.8485, 107.703)
  line L41 (-239.8485, 113.703) -> (-234.8485, 113.703)
  line L42 (-234.8485, 113.703) -> (-234.8485, 116.703)
  line L43 (-234.8485, 116.703) -> (-239.8485, 116.703)
  line L44 (-239.8485, 116.703) -> (-239.8485, 113.703)
  line L45 (-219.8485, 113.703) -> (-214.8485, 113.703)
  line L46 (-214.8485, 113.703) -> (-214.8485, 116.703)
  line L47 (-214.8485, 116.703) -> (-219.8485, 116.703)
  line L48 (-219.8485, 116.703) -> (-219.8485, 113.703)
  line L49 (-236.918, 32.6914) -> (-236.918, 29.6914)
  line L50 (-236.918, 38.6914) -> (-236.918, 41.6914)
  line L51 (-241.918, 32.6914) -> (-236.918, 32.6914)
  line L52 (-236.918, 29.6914) -> (-241.918, 29.6914)
  line L53 (-241.918, 38.6914) -> (-236.918, 38.6914)
  line L54 (-236.918, 41.6914) -> (-241.918, 41.6914)
  line L55 (-241.918, 41.6914) -> (-241.918, 38.6914)
  line L56 (-241.918, 29.6914) -> (-241.918, 32.6914)
  line L57 (-221.918, 29.6914) -> (-221.918, 32.6914)
  line L58 (-221.918, 41.6914) -> (-221.918, 38.6914)
  line L59 (-216.918, 29.6914) -> (-221.918, 29.6914)
  line L60 (-221.918, 32.6914) -> (-216.918, 32.6914)
  line L61 (-221.918, 38.6914) -> (-216.918, 38.6914)
  line L62 (-216.918, 41.6914) -> (-221.918, 41.6914)
  line L63 (-216.918, 32.6914) -> (-216.918, 29.6914)
  line L64 (-216.918, 38.6914) -> (-216.918, 41.6914)
  point P0 (0, 0)
  point P1 (-245.3103, 110.703)
  dimension "d32" = 3
  dimension "d33" = 5
  dimension "d36" = 20
  dimension "d41" = 3
  dimension "d42" = 3
  dimension "d47" = 3
  dimension "d48" = 5
  dimension "d49" = 20
  dimension "d59" = 3
  dimension "d60" = 5
  dimension "d61" = 20
  dimension "d62" = 3
  dimension "d63" = 5
  dimension "d64" = 20
extrude "Выдавливание6" cut sketch "Эскиз6" against normal blind 10
sketch "Эскиз7" plane through (0, 0, 6) normal (0, 0, 1) x (1, 0, 0)
  line L0 (-261.9369, -15.8645) -> (-126.2857, -15.8645) projected
  line L1 (-126.2857, 204.9843) -> (-261.9369, 204.9843) projected
  circle A0 centre (-249.9369, 94.5599) radius 2
  line L2 (-261.9369, 204.9843) -> (-261.9369, -15.8645) projected
  circle A1 centre (-138.2857, 94.5599) radius 2
  line L3 (-126.2857, -15.8645) -> (-126.2857, 204.9843) projected
  point P0 (0, 0)
  dimension "d69" = 4
  dimension "d70" = 220.8488
  dimension "d71" = 110.4244
  dimension "d72" = 12
  dimension "d73" = 4
  dimension "d74" = 12
extrude "Выдавливание7" cut sketch "Эскиз7" against normal blind 10 contours A0 | A1
equation "\"d71\" = 0.5 * d70"
properties part number "base"
